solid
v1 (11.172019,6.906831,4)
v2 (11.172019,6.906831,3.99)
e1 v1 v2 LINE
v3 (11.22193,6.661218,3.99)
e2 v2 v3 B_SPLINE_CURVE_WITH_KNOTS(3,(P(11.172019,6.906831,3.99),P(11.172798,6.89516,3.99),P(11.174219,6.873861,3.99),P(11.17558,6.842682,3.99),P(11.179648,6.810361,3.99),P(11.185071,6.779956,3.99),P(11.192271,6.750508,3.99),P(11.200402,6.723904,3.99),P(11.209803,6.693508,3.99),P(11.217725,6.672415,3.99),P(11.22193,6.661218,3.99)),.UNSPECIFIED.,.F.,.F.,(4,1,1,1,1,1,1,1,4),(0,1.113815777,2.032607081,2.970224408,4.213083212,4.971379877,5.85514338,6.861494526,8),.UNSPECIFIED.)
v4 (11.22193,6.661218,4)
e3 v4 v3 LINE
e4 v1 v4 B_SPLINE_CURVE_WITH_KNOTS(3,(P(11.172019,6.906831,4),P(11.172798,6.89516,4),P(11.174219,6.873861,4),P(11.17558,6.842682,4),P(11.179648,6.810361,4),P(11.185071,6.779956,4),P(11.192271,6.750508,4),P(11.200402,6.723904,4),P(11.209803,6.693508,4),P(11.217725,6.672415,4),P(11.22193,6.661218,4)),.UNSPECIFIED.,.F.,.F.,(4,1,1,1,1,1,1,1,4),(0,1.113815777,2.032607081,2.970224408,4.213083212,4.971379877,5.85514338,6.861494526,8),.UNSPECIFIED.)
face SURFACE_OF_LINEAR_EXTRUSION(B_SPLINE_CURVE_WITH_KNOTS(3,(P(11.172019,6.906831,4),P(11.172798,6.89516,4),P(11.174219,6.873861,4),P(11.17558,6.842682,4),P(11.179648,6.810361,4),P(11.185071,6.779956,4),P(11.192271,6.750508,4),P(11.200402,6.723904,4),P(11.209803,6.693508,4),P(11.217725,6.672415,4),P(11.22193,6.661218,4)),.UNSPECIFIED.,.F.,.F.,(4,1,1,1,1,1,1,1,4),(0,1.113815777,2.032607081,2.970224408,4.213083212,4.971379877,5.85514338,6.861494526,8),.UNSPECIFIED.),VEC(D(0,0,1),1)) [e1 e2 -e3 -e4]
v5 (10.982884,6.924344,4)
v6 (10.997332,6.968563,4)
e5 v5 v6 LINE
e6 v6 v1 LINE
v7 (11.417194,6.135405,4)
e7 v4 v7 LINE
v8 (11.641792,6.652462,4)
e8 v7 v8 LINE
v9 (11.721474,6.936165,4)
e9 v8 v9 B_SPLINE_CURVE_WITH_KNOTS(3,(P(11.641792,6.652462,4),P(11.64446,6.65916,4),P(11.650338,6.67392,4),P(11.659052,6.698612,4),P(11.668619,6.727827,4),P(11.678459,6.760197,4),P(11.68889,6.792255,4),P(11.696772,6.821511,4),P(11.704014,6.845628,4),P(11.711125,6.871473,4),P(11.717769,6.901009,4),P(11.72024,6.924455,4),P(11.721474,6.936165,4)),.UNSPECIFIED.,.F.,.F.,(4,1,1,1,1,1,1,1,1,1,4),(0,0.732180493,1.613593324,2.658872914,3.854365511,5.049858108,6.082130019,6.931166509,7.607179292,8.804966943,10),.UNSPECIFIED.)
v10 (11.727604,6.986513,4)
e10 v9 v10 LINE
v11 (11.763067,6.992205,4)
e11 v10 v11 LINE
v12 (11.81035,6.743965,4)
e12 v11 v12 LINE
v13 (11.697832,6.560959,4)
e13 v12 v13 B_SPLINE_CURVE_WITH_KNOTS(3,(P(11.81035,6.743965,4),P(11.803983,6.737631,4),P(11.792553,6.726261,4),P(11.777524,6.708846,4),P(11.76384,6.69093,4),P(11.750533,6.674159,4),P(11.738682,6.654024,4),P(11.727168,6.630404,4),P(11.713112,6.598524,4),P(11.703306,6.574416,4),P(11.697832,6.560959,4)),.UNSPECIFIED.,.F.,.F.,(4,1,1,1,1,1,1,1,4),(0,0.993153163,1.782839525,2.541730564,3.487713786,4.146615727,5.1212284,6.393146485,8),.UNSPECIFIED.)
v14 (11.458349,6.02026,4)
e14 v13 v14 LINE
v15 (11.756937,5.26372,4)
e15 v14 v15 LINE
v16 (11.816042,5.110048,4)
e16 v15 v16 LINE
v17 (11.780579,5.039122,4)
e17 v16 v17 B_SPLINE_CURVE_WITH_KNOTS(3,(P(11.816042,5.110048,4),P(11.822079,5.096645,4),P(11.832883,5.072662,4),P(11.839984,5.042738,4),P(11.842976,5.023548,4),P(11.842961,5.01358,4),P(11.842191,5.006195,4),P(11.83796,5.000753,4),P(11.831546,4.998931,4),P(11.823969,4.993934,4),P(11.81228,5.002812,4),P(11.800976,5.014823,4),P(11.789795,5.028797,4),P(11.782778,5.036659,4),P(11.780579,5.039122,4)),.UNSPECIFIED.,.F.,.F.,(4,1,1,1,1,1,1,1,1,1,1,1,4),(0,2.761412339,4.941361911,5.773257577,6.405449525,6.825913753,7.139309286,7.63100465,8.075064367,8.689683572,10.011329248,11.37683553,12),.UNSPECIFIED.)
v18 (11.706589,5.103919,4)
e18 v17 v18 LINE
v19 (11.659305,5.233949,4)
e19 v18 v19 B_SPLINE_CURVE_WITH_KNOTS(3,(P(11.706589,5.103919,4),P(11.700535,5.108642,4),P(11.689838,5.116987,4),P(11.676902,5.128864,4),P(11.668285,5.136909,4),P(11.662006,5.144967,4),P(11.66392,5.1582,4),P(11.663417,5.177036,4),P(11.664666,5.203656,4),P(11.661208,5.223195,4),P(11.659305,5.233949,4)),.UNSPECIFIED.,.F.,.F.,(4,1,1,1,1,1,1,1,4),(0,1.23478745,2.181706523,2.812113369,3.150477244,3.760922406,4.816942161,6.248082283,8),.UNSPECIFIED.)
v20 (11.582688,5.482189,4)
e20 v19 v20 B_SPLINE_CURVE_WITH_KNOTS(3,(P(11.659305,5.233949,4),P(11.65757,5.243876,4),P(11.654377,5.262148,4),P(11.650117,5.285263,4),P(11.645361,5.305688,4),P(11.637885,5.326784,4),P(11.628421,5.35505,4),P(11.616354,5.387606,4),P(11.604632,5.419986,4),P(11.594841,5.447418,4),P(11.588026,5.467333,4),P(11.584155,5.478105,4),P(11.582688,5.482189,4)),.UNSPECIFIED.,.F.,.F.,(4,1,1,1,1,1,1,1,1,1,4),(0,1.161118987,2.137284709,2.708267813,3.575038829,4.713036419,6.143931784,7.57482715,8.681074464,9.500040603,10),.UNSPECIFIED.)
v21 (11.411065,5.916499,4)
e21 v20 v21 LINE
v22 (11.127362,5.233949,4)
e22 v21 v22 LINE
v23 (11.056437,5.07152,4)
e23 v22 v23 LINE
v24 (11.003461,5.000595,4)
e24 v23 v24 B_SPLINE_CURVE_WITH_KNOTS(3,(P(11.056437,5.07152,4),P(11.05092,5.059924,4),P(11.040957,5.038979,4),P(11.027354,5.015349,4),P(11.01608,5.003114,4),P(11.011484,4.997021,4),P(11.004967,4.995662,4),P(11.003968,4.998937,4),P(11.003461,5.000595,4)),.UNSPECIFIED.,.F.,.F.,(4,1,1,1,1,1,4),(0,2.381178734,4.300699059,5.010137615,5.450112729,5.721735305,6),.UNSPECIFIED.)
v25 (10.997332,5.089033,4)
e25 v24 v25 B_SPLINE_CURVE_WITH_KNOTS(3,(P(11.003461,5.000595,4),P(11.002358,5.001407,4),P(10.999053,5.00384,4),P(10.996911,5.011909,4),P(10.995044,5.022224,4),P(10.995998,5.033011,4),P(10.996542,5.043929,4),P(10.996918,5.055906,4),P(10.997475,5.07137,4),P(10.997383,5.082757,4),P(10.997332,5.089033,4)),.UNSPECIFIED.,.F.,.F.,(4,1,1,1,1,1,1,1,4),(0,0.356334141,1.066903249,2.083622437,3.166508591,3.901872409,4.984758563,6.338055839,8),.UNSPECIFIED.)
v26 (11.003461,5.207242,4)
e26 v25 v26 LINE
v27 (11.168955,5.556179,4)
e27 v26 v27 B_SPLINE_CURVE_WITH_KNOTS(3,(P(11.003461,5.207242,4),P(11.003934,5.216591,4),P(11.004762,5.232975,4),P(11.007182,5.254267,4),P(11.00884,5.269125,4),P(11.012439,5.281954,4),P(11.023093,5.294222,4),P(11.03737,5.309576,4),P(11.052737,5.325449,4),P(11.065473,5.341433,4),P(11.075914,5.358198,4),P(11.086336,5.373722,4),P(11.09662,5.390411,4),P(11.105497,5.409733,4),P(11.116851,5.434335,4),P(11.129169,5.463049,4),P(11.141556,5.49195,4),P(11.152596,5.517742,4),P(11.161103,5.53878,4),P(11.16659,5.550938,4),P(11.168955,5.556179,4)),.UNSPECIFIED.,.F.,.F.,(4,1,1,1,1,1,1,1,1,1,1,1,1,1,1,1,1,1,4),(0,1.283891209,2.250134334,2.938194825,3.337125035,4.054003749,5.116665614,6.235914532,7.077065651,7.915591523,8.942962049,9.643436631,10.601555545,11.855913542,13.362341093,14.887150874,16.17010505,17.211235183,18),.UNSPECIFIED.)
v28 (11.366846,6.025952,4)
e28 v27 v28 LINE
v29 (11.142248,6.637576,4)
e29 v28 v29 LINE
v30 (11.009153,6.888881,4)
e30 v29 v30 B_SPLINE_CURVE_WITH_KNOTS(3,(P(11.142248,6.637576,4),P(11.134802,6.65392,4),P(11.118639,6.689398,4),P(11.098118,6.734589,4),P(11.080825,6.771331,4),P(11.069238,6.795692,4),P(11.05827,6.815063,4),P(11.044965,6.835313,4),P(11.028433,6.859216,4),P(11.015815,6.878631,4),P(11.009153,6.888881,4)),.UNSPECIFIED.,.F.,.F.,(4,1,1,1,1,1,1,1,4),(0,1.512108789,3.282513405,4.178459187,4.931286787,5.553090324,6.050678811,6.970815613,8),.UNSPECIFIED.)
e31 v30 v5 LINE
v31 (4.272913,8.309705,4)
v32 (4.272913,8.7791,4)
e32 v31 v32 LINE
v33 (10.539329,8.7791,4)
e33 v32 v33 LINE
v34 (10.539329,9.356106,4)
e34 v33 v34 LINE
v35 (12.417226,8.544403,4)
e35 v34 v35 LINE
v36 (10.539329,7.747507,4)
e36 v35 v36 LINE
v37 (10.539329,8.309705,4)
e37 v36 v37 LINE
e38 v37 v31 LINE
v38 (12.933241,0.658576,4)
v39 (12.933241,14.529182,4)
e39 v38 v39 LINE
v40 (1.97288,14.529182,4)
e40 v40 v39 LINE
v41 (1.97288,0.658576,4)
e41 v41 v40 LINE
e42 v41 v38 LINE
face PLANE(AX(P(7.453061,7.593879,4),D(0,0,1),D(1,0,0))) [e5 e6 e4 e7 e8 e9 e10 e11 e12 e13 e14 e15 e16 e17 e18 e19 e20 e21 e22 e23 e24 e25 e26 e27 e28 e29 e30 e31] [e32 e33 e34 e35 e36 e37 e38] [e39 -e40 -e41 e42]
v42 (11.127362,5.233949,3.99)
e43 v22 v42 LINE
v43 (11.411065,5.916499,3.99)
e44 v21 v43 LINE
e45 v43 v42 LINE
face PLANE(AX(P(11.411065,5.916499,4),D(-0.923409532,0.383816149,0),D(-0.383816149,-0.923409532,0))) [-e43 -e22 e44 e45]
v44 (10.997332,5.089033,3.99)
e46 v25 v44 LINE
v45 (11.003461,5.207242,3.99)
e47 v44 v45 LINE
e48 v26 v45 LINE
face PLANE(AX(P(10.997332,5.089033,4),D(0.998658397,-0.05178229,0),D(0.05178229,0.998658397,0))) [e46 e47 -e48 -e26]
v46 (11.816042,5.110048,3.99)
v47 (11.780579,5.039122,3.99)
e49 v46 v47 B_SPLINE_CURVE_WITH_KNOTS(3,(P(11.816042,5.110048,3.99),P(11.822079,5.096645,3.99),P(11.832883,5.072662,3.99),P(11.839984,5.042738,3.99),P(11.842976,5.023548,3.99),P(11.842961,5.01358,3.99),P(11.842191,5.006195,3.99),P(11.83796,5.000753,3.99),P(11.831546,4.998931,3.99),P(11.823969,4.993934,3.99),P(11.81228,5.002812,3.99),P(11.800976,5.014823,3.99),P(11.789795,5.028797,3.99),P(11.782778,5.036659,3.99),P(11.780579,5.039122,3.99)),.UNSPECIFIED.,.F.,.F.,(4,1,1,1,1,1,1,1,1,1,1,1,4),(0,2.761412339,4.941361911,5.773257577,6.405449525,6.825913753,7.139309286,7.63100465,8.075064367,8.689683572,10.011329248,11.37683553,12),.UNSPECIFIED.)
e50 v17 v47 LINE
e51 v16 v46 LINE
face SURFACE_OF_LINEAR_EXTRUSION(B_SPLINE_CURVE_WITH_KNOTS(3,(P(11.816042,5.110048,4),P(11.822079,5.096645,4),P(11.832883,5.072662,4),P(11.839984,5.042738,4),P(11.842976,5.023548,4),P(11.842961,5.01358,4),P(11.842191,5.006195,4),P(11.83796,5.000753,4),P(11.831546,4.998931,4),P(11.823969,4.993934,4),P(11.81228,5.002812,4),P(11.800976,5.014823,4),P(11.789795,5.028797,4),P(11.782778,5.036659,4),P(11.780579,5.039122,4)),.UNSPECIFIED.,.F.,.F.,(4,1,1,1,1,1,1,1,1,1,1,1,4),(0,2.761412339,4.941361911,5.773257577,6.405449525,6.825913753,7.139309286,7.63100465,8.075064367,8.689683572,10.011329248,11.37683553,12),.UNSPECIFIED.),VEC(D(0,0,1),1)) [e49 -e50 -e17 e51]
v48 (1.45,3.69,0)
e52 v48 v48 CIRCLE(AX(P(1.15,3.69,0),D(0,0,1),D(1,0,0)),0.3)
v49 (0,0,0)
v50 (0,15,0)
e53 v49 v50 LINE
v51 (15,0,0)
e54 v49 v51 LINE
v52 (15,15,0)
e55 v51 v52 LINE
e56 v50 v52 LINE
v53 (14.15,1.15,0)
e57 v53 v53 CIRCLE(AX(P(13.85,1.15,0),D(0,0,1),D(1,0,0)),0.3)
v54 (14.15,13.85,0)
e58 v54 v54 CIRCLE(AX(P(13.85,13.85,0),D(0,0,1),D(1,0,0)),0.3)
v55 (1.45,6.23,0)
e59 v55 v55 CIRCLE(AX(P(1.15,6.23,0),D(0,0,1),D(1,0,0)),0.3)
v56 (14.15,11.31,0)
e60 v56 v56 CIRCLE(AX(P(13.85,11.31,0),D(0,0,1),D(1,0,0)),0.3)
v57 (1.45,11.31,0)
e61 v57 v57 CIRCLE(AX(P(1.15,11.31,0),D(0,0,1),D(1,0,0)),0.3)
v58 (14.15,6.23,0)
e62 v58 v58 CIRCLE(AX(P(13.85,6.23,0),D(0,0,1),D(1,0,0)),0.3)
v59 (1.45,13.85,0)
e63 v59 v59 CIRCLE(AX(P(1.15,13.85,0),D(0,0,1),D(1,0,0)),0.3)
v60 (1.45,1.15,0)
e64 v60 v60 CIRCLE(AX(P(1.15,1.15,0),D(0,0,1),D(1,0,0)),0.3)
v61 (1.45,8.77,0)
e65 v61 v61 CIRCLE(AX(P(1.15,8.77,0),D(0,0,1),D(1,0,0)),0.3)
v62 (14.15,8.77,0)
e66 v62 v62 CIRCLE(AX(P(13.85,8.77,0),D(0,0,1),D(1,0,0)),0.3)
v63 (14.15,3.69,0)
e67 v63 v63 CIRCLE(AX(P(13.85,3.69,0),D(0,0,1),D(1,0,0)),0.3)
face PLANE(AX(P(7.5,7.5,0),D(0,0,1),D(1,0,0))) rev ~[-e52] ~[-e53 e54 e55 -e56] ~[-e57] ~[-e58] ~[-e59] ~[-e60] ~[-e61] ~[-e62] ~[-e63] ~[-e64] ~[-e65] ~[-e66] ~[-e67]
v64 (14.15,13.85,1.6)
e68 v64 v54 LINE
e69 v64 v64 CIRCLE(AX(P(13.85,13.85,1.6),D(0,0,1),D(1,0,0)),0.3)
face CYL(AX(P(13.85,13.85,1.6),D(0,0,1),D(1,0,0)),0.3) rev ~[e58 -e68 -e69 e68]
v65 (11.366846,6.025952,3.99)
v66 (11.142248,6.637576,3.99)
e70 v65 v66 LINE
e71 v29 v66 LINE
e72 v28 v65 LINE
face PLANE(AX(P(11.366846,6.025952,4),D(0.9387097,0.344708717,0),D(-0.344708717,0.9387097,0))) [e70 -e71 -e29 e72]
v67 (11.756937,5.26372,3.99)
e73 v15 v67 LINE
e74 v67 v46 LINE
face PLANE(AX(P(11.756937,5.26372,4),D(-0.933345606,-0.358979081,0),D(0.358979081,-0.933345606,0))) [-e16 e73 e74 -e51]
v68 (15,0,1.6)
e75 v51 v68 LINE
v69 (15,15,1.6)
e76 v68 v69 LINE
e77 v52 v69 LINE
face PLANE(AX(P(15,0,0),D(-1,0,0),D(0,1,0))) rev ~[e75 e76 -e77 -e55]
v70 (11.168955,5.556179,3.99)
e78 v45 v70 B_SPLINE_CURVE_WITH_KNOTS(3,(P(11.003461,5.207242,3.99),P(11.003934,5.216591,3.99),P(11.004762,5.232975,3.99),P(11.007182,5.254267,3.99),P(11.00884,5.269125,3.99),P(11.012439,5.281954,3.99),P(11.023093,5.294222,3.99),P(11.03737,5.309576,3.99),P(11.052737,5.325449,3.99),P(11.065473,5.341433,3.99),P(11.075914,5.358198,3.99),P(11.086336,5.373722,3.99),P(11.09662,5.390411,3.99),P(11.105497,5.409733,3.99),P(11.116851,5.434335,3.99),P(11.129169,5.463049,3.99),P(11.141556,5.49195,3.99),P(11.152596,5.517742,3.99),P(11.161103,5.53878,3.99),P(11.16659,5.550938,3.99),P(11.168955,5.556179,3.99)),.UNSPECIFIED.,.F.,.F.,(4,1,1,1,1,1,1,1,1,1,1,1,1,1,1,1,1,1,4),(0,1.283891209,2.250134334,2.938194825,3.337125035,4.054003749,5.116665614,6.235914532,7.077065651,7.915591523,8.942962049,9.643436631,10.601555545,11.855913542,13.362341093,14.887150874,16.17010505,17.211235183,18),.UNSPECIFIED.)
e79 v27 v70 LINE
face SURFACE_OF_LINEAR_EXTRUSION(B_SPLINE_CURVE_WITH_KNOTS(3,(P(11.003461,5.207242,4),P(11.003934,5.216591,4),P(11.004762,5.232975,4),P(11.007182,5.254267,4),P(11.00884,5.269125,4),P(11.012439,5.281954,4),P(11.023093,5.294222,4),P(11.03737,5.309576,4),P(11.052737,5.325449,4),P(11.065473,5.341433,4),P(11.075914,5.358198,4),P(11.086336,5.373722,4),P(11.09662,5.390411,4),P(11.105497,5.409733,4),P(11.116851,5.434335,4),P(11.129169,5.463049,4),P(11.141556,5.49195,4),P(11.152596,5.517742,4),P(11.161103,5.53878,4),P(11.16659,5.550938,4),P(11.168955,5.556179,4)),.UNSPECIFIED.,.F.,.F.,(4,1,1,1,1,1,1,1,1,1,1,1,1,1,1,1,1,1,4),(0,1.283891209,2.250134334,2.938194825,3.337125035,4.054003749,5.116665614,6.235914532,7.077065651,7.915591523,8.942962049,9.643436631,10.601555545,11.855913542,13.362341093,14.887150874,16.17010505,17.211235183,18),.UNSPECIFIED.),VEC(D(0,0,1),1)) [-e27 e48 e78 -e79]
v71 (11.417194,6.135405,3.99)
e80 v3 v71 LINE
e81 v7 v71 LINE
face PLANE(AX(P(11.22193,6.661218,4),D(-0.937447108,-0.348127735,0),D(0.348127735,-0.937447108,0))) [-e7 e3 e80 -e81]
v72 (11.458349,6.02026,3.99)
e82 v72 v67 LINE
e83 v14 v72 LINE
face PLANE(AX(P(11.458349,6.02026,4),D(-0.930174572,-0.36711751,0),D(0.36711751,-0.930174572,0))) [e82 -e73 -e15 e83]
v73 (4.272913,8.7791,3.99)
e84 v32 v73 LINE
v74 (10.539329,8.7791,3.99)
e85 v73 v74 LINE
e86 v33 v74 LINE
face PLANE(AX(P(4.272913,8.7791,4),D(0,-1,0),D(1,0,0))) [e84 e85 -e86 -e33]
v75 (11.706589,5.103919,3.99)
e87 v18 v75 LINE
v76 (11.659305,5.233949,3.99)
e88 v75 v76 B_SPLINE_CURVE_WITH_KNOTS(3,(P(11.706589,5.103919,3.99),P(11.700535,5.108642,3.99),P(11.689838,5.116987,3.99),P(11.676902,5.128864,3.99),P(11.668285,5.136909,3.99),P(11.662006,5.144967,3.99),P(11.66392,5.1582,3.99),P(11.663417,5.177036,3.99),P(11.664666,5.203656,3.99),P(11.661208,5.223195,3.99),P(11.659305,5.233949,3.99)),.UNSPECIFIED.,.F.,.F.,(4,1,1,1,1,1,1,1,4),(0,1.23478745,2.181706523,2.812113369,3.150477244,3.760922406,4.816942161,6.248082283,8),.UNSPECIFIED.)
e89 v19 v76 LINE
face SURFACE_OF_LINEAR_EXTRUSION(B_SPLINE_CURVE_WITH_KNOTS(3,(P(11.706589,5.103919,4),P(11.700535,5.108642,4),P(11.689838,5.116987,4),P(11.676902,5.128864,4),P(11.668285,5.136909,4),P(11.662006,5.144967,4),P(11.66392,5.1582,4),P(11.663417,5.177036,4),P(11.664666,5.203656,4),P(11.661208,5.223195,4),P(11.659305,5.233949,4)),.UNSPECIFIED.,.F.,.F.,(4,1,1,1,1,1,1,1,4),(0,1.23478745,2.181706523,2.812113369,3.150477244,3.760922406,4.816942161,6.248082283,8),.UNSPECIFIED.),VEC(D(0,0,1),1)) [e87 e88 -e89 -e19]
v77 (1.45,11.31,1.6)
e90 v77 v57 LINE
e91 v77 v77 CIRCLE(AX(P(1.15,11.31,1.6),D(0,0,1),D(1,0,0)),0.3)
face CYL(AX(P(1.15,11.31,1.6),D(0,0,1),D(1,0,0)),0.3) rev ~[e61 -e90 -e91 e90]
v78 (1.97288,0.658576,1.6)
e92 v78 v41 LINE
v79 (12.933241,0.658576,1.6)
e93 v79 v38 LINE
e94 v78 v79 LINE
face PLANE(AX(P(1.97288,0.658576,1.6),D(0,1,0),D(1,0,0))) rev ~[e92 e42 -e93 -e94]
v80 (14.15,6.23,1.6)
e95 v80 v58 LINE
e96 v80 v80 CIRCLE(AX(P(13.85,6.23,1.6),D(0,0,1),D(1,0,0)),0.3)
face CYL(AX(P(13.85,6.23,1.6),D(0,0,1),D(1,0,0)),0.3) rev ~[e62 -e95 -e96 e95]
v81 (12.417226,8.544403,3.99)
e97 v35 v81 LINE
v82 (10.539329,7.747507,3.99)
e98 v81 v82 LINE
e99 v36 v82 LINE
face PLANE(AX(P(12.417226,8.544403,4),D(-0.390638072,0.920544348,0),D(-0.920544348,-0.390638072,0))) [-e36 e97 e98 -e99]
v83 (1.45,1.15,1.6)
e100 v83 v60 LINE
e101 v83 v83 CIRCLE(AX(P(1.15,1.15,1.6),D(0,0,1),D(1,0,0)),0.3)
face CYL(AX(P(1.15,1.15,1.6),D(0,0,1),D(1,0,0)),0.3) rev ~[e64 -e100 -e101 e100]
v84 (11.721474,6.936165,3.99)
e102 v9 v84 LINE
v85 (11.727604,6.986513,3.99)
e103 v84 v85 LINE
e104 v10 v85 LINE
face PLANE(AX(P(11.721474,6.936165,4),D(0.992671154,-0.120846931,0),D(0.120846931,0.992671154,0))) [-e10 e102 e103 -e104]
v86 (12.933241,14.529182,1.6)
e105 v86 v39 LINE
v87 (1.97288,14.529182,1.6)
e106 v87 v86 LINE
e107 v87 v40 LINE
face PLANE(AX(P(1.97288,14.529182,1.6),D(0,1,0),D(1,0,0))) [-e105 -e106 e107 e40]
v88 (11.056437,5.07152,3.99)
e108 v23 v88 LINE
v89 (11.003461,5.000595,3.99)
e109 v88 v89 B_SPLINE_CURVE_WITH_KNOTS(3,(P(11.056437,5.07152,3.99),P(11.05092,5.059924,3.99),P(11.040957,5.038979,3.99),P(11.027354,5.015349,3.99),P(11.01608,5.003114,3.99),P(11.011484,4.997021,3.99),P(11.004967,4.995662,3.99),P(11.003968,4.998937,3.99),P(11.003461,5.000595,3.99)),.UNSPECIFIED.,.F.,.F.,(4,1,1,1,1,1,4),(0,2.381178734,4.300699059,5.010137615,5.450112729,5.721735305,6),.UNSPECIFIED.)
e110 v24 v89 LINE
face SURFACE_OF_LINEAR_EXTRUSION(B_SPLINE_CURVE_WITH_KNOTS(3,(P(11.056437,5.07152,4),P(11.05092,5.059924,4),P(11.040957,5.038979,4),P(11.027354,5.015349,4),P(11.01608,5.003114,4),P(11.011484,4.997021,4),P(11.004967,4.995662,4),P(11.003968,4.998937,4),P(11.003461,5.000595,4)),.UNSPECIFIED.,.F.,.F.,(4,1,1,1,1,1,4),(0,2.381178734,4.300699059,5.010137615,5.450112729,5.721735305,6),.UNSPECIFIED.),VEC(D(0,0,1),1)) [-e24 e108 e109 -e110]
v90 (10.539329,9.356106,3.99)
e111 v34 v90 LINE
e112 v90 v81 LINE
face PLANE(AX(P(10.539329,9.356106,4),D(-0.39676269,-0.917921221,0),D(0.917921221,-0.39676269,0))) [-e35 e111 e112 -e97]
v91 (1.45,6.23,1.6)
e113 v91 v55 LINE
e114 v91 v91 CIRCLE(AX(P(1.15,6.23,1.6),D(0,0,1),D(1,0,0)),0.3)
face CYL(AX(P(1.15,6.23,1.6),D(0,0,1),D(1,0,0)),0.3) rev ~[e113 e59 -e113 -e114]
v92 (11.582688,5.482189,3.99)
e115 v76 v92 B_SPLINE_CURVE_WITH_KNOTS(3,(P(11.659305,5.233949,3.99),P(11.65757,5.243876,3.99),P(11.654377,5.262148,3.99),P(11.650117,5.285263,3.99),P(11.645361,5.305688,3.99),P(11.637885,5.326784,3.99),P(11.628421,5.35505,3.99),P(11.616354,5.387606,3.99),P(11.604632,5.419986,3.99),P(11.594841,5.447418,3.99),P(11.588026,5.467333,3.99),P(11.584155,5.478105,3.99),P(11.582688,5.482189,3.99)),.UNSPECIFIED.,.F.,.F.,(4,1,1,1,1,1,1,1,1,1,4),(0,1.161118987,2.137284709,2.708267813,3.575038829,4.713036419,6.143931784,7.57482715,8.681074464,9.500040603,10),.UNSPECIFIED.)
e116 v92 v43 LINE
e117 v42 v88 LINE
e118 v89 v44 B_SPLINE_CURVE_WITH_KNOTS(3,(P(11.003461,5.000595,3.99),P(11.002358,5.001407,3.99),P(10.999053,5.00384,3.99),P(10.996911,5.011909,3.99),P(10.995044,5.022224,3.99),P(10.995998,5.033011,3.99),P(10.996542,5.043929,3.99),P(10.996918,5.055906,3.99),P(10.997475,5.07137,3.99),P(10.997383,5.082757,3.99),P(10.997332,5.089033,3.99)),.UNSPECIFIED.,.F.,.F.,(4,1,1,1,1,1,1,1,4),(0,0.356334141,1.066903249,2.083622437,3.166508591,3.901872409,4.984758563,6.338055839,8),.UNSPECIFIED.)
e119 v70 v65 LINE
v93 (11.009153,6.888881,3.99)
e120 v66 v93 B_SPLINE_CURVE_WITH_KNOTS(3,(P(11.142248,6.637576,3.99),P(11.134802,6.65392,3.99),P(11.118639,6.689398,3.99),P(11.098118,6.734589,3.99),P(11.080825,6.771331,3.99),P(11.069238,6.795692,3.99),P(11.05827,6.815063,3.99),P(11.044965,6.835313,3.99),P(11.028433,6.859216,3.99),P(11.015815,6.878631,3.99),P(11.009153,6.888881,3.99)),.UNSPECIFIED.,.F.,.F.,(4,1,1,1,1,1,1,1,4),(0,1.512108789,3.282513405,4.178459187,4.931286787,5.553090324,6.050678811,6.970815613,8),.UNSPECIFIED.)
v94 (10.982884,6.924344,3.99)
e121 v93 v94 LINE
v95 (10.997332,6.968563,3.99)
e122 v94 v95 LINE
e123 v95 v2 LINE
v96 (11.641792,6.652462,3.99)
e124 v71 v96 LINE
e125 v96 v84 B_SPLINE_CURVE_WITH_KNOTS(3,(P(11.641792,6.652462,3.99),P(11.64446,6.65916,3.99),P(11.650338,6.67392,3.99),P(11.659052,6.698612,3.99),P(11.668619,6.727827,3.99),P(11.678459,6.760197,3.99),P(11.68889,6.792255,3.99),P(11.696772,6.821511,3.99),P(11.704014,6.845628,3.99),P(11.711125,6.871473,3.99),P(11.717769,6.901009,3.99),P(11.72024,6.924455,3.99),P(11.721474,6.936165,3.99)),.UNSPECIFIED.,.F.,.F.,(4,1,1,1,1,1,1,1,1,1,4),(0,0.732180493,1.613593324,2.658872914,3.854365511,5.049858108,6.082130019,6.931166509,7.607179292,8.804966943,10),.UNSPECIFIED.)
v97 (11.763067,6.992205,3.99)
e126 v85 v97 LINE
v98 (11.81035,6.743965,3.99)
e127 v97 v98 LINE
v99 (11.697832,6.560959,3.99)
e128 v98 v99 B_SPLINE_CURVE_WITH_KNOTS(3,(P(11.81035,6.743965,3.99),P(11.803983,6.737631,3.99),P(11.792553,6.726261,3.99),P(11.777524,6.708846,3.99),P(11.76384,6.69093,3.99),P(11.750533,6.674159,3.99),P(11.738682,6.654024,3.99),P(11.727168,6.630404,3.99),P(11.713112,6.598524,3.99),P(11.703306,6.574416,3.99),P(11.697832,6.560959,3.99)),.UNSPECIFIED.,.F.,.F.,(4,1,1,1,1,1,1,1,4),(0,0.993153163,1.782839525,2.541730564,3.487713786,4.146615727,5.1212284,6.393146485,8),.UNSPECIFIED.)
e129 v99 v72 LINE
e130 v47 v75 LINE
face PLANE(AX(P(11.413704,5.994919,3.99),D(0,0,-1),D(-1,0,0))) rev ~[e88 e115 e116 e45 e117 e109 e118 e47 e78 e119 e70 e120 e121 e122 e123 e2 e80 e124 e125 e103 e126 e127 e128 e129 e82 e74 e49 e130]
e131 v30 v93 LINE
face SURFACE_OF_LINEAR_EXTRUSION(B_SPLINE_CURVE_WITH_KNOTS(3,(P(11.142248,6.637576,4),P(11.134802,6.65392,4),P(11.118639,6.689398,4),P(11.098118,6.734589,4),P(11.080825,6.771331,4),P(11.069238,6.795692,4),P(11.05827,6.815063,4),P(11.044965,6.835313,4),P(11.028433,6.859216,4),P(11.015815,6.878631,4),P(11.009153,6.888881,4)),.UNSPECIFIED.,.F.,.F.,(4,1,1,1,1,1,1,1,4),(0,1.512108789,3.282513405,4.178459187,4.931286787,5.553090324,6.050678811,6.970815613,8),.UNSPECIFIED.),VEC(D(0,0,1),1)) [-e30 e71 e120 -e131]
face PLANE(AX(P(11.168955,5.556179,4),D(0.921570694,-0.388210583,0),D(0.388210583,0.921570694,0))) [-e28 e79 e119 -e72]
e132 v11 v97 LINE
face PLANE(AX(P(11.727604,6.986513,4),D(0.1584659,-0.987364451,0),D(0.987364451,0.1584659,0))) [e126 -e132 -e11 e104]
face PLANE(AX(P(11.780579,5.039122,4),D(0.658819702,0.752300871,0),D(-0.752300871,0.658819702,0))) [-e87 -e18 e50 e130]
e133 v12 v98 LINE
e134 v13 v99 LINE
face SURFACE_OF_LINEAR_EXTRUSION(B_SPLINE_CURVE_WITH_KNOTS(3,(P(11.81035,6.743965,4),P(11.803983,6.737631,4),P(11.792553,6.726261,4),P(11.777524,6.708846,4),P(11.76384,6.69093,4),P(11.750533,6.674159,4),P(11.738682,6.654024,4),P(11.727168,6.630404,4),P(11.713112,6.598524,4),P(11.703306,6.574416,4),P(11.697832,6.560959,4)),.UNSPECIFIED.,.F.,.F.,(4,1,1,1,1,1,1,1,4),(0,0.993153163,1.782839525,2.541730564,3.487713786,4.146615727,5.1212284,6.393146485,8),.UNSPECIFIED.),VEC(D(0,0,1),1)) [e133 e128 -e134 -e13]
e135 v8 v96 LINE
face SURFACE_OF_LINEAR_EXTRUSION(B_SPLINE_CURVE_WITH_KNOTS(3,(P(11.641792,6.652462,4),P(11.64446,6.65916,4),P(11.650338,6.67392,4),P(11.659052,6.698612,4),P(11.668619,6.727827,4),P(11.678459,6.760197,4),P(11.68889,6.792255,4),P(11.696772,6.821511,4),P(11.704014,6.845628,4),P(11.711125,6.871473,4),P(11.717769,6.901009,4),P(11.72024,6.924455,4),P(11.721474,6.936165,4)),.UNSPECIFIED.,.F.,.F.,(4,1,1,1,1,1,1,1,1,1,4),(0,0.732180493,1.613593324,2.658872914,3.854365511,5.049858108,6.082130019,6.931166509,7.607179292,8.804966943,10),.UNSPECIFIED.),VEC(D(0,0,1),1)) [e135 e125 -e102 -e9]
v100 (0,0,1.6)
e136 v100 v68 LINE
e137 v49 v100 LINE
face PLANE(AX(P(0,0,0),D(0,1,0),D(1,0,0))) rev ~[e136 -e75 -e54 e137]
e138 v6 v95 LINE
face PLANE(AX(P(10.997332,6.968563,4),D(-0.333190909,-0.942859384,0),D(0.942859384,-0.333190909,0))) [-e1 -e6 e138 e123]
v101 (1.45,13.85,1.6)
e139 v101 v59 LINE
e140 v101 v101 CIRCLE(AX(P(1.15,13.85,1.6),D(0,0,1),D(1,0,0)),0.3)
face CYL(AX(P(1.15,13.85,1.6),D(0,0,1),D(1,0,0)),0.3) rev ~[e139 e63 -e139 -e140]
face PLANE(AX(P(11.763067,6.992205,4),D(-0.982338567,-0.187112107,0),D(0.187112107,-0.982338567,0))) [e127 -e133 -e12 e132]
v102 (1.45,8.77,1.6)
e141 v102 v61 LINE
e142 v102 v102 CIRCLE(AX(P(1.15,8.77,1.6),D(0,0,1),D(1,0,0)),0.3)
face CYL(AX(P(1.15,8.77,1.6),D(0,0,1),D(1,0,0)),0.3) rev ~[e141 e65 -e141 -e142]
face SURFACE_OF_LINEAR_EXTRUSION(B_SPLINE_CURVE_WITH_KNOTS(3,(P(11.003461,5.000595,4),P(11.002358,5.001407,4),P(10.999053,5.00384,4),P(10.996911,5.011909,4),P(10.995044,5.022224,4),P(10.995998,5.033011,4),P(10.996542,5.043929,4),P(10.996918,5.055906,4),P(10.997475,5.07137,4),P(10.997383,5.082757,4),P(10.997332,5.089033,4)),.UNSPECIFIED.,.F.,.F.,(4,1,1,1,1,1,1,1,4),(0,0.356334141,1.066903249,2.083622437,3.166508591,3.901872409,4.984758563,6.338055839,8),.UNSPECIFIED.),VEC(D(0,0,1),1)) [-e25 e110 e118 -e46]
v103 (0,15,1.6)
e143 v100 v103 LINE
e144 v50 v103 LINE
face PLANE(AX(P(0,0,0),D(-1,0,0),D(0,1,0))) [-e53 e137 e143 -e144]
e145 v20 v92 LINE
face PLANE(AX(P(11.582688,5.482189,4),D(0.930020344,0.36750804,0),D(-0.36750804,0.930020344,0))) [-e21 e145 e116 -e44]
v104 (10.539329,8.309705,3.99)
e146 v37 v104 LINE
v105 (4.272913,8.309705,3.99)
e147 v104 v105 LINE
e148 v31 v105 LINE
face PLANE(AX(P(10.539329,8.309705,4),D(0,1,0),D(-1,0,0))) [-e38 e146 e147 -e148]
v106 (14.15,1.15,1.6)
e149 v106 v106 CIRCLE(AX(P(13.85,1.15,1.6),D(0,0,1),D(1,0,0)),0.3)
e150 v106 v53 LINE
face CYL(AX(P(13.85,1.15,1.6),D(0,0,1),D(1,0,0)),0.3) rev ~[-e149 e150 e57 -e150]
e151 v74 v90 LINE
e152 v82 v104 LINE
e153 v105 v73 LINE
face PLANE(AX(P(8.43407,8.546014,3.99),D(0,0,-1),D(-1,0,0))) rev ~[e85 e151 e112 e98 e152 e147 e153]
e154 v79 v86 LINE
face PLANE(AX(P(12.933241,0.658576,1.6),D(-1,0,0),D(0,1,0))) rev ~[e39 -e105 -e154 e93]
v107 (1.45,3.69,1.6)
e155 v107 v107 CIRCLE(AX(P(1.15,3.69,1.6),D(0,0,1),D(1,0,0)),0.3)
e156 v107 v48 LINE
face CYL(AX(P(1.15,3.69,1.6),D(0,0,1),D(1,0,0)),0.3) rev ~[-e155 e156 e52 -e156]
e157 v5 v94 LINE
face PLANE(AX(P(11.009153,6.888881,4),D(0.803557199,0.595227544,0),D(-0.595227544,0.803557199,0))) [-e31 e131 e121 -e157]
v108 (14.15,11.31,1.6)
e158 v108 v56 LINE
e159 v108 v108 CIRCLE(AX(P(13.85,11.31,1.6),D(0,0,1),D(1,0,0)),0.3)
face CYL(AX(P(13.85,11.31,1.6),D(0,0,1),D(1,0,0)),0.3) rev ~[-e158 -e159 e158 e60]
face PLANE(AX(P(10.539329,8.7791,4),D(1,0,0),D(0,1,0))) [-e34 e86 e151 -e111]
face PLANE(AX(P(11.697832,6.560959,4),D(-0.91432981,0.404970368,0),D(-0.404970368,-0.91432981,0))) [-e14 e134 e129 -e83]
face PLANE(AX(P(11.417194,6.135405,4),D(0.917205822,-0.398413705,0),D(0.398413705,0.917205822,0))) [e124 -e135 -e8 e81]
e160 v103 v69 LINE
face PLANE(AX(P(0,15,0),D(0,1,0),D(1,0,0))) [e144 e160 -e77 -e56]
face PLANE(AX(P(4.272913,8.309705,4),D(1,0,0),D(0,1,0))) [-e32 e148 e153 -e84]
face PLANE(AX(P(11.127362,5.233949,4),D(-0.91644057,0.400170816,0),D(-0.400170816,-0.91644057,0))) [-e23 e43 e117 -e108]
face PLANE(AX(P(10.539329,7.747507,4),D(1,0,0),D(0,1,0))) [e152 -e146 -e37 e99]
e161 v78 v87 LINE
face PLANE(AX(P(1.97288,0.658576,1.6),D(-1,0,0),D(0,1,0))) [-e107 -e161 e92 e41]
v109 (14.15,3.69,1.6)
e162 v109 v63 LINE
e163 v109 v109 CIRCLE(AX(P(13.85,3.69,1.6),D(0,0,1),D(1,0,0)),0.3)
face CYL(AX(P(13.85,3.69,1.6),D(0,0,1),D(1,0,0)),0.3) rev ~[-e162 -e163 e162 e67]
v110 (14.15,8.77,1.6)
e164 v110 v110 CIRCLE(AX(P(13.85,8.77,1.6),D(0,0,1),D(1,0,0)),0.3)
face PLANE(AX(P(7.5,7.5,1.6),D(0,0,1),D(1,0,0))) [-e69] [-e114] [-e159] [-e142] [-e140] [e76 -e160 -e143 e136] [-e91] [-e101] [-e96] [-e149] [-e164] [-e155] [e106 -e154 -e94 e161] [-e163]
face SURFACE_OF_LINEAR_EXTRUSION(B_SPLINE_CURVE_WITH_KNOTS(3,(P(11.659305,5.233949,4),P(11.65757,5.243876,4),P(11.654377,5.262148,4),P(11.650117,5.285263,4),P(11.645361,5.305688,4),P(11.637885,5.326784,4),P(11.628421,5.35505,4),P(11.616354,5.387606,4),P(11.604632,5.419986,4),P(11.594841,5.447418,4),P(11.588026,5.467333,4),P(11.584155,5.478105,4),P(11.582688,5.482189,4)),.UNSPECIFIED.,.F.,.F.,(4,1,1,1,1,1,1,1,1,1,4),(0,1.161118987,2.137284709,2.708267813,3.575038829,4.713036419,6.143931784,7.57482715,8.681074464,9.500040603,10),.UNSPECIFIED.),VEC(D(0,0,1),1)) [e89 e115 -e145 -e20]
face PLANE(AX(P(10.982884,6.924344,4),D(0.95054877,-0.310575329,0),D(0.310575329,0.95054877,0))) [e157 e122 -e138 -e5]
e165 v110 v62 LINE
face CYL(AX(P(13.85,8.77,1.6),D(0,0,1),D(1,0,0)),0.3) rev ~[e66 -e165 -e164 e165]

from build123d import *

# Parameters (mm, degrees)
SKETCH_1_W                 = 15
SKETCH_1_H                 = 15
EXTRUDE_1_DEPTH            = 1.6
SKETCH_2_W                 = 10.960360983
SKETCH_2_H                 = 13.870606726
EXTRUDE_2_DEPTH            = 2.4
SKETCH_3_R                 = 0.3
CUT_EXTRUDE_1_DEPTH        = 2.4
PATTERN_LINEAR_1_COUNT     = 4
PATTERN_LINEAR_1_PITCH     = 2.54
PATTERN_LINEAR_1_COL_COUNT = 3
PATTERN_LINEAR_1_COL_PITCH = 2.54
CUT_EXTRUDE_2_DEPTH        = 0.01
CUT_EXTRUDE_3_DEPTH        = 0.01


with BuildPart() as part:
    # 草图1 → 凸台-拉伸1 (new body)
    with BuildSketch(Plane.XY):
        with Locations((7.5, 7.5)):
            Rectangle(SKETCH_1_W, SKETCH_1_H)
    extrude(amount=EXTRUDE_1_DEPTH)

    # 草图2 → 凸台-拉伸2 (add)
    with BuildSketch(Plane.XY.offset(1.6)):
        with Locations((7.453060553, 7.593878895)):
            Rectangle(SKETCH_2_W, SKETCH_2_H)
    extrude(amount=EXTRUDE_2_DEPTH)

    # 草图3 → 切除-拉伸1 (cut)
    with BuildSketch(Plane.XY.offset(1.6)):
        with Locations((1.15, 8.77)):
            Circle(SKETCH_3_R)
        with Locations((13.85, 8.77)):
            Circle(SKETCH_3_R)
    cut_extrude_1 = extrude(amount=-CUT_EXTRUDE_1_DEPTH, mode=Mode.SUBTRACT)

    # 阵列(线性)1: 切除-拉伸1 ×4
    with Locations(*[(0, -i * PATTERN_LINEAR_1_PITCH, 0) for i in range(1, PATTERN_LINEAR_1_COUNT)]):
        add(cut_extrude_1, mode=Mode.SUBTRACT)

    # 阵列(线性)1 col: 切除-拉伸1 ×3
    with Locations(*[(0, i * PATTERN_LINEAR_1_COL_PITCH, 0) for i in range(1, PATTERN_LINEAR_1_COL_COUNT)]):
        add(cut_extrude_1, mode=Mode.SUBTRACT)

    # 草图4 → 切除-拉伸2 (cut)
    with BuildSketch(Plane.XY.offset(4)):
        Polygon((10.539329223, 8.779099943), (10.539329223, 9.356105561), (12.417225748, 8.544402706), (10.539329223, 7.747506957), (10.539329223, 8.309705469), (4.272912987, 8.309705469), (4.272912987, 8.779099943), align=None)
    extrude(amount=-CUT_EXTRUDE_2_DEPTH, mode=Mode.SUBTRACT)

    # 草图5 → 切除-拉伸3 (cut)
    with BuildSketch(Plane.XY.offset(4)):
        with BuildLine():
            Line((11.417194479, 6.135405226), (11.641792388, 6.652462011))
            add(Edge.make_bspline(
                [(11.641792388, 6.652462011), (11.644459763, 6.65915976), (11.650338175, 6.673920386), (11.659052259, 6.698612128), (11.668619361, 6.727827369), (11.678458783, 6.760197023), (11.688890182, 6.792254636), (11.696772433, 6.821510802), (11.70401352, 6.845628042), (11.711125127, 6.871472603), (11.717769102, 6.901008766), (11.720240181, 6.924455008), (11.721474297, 6.936164633)],
                knots=[0, 0, 0, 0, 0.732180493, 1.613593324, 2.658872914, 3.854365511, 5.049858108, 6.082130019, 6.931166509, 7.607179292, 8.804966943, 10, 10, 10, 10], degree=3))
            Line((11.721474297, 6.936164633), (11.727603675, 6.986513092))
            Line((11.727603675, 6.986513092), (11.763066503, 6.992204657))
            Line((11.763066503, 6.992204657), (11.810350273, 6.743964863))
            add(Edge.make_bspline(
                [(11.810350273, 6.743964863), (11.803983049, 6.737631034), (11.792553049, 6.726260986), (11.777524458, 6.70884618), (11.763839933, 6.690929745), (11.750533347, 6.674158962), (11.738681861, 6.654023987), (11.727167788, 6.630404394), (11.713111944, 6.598523577), (11.70330589, 6.574415593), (11.697832412, 6.560959159)],
                knots=[0, 0, 0, 0, 0.993153163, 1.782839525, 2.541730564, 3.487713786, 4.146615727, 5.1212284, 6.393146485, 8, 8, 8, 8], degree=3))
            Line((11.697832412, 6.560959159), (11.458348872, 6.020260488))
            Line((11.458348872, 6.020260488), (11.756937125, 5.263720162))
            Line((11.756937125, 5.263720162), (11.816041838, 5.110047909))
            add(Edge.make_bspline(
                [(11.816041838, 5.110047909), (11.822079493, 5.096645389), (11.83288347, 5.072662481), (11.839984094, 5.042737639), (11.842976482, 5.023548034), (11.84296091, 5.013580004), (11.842191359, 5.006194655), (11.83795984, 5.000752614), (11.831545964, 4.998931147), (11.823968923, 4.993934019), (11.812279554, 5.002811857), (11.800976383, 5.014822536), (11.789795068, 5.028797256), (11.782777893, 5.036658786), (11.78057901, 5.039122253)],
                knots=[0, 0, 0, 0, 2.761412339, 4.941361911, 5.773257577, 6.405449525, 6.825913753, 7.139309286, 7.63100465, 8.075064367, 8.689683572, 10.011329248, 11.37683553, 12, 12, 12, 12], degree=3))
            Line((11.78057901, 5.039122253), (11.706588666, 5.103918531))
            add(Edge.make_bspline(
                [(11.706588666, 5.103918531), (11.700534721, 5.10864155), (11.689838198, 5.116986501), (11.676902014, 5.128864442), (11.668284845, 5.13690868), (11.662006372, 5.144967182), (11.663920439, 5.158199661), (11.663417087, 5.177036268), (11.664666192, 5.203655954), (11.661208157, 5.223194895), (11.659304896, 5.2339489)],
                knots=[0, 0, 0, 0, 1.23478745, 2.181706523, 2.812113369, 3.150477244, 3.760922406, 4.816942161, 6.248082283, 8, 8, 8, 8], degree=3))
            add(Edge.make_bspline(
                [(11.659304896, 5.2339489), (11.657570283, 5.243875719), (11.654377363, 5.262148127), (11.650117136, 5.28526259), (11.645361423, 5.305687518), (11.637884912, 5.326783626), (11.62842129, 5.355050264), (11.616354369, 5.387606437), (11.604632167, 5.419985798), (11.594840708, 5.447418485), (11.588025611, 5.467332719), (11.584154921, 5.478105212), (11.582687675, 5.482188694)],
                knots=[0, 0, 0, 0, 1.161118987, 2.137284709, 2.708267813, 3.575038829, 4.713036419, 6.143931784, 7.57482715, 8.681074464, 9.500040603, 10, 10, 10, 10], degree=3))
            Line((11.582687675, 5.482188694), (11.411065101, 5.916498881))
            Line((11.411065101, 5.916498881), (11.127362479, 5.2339489))
            Line((11.127362479, 5.2339489), (11.056436823, 5.071520392))
            add(Edge.make_bspline(
                [(11.056436823, 5.071520392), (11.05092025, 5.059923819), (11.040956646, 5.038978994), (11.027354455, 5.015348737), (11.016079719, 5.003114277), (11.011484356, 4.997021281), (11.004967483, 4.995661847), (11.003967513, 4.998937252), (11.003461488, 5.000594736)],
                knots=[0, 0, 0, 0, 2.381178734, 4.300699059, 5.010137615, 5.450112729, 5.721735305, 6, 6, 6, 6], degree=3))
            add(Edge.make_bspline(
                [(11.003461488, 5.000594736), (11.00235785, 5.001407174), (10.999053439, 5.003839699), (10.996910869, 5.011909178), (10.99504437, 5.022224411), (10.99599754, 5.033010837), (10.996542411, 5.043928598), (10.996917787, 5.0559064), (10.997475336, 5.07136957), (10.997383003, 5.082756589), (10.99733211, 5.0890329)],
                knots=[0, 0, 0, 0, 0.356334141, 1.066903249, 2.083622437, 3.166508591, 3.901872409, 4.984758563, 6.338055839, 8, 8, 8, 8], degree=3))
            Line((10.99733211, 5.0890329), (11.003461488, 5.207242326))
            add(Edge.make_bspline(
                [(11.003461488, 5.207242326), (11.003934057, 5.21659073), (11.004762277, 5.232974646), (11.007181535, 5.254267464), (11.008840176, 5.269124933), (11.012439148, 5.28195374), (11.023092765, 5.294221944), (11.037370069, 5.309576468), (11.05273668, 5.325448758), (11.065473263, 5.341432509), (11.075914366, 5.358198204), (11.086335771, 5.37372244), (11.096619807, 5.390411315), (11.105496545, 5.409732657), (11.116850923, 5.43433534), (11.129168728, 5.463048743), (11.141556256, 5.491950012), (11.152595687, 5.517741604), (11.16110265, 5.538779801), (11.166589578, 5.550938225), (11.168954684, 5.556179038)],
                knots=[0, 0, 0, 0, 1.283891209, 2.250134334, 2.938194825, 3.337125035, 4.054003749, 5.116665614, 6.235914532, 7.077065651, 7.915591523, 8.942962049, 9.643436631, 10.601555545, 11.855913542, 13.362341093, 14.887150874, 16.17010505, 17.211235183, 18, 18, 18, 18], degree=3))
            Line((11.168954684, 5.556179038), (11.36684602, 6.025952053))
            Line((11.36684602, 6.025952053), (11.14224811, 6.637576379))
            add(Edge.make_bspline(
                [(11.14224811, 6.637576379), (11.134802276, 6.653919815), (11.118638723, 6.689398443), (11.098117731, 6.734589073), (11.080824683, 6.771330602), (11.069237657, 6.795692229), (11.058270064, 6.815063097), (11.044964524, 6.835312795), (11.028432624, 6.859216492), (11.015814861, 6.87863072), (11.009153053, 6.888880863)],
                knots=[0, 0, 0, 0, 1.512108789, 3.282513405, 4.178459187, 4.931286787, 5.553090324, 6.050678811, 6.970815613, 8, 8, 8, 8], degree=3))
            Line((11.009153053, 6.888880863), (10.982884292, 6.924343691))
            Line((10.982884292, 6.924343691), (10.99733211, 6.968562772))
            Line((10.99733211, 6.968562772), (11.172019373, 6.906831183))
            add(Edge.make_bspline(
                [(11.172019373, 6.906831183), (11.172798131, 6.895160011), (11.174219289, 6.87386124), (11.175579615, 6.842681643), (11.179648195, 6.810360509), (11.185071037, 6.779955978), (11.192270701, 6.750508012), (11.200401611, 6.723903561), (11.209803376, 6.693508399), (11.217725107, 6.672414865), (11.22193002, 6.661218265)],
                knots=[0, 0, 0, 0, 1.113815777, 2.032607081, 2.970224408, 4.213083212, 4.971379877, 5.85514338, 6.861494526, 8, 8, 8, 8], degree=3))
            Line((11.22193002, 6.661218265), (11.417194479, 6.135405226))
        make_face()
    extrude(amount=-CUT_EXTRUDE_3_DEPTH, mode=Mode.SUBTRACT)


solid = part.part
